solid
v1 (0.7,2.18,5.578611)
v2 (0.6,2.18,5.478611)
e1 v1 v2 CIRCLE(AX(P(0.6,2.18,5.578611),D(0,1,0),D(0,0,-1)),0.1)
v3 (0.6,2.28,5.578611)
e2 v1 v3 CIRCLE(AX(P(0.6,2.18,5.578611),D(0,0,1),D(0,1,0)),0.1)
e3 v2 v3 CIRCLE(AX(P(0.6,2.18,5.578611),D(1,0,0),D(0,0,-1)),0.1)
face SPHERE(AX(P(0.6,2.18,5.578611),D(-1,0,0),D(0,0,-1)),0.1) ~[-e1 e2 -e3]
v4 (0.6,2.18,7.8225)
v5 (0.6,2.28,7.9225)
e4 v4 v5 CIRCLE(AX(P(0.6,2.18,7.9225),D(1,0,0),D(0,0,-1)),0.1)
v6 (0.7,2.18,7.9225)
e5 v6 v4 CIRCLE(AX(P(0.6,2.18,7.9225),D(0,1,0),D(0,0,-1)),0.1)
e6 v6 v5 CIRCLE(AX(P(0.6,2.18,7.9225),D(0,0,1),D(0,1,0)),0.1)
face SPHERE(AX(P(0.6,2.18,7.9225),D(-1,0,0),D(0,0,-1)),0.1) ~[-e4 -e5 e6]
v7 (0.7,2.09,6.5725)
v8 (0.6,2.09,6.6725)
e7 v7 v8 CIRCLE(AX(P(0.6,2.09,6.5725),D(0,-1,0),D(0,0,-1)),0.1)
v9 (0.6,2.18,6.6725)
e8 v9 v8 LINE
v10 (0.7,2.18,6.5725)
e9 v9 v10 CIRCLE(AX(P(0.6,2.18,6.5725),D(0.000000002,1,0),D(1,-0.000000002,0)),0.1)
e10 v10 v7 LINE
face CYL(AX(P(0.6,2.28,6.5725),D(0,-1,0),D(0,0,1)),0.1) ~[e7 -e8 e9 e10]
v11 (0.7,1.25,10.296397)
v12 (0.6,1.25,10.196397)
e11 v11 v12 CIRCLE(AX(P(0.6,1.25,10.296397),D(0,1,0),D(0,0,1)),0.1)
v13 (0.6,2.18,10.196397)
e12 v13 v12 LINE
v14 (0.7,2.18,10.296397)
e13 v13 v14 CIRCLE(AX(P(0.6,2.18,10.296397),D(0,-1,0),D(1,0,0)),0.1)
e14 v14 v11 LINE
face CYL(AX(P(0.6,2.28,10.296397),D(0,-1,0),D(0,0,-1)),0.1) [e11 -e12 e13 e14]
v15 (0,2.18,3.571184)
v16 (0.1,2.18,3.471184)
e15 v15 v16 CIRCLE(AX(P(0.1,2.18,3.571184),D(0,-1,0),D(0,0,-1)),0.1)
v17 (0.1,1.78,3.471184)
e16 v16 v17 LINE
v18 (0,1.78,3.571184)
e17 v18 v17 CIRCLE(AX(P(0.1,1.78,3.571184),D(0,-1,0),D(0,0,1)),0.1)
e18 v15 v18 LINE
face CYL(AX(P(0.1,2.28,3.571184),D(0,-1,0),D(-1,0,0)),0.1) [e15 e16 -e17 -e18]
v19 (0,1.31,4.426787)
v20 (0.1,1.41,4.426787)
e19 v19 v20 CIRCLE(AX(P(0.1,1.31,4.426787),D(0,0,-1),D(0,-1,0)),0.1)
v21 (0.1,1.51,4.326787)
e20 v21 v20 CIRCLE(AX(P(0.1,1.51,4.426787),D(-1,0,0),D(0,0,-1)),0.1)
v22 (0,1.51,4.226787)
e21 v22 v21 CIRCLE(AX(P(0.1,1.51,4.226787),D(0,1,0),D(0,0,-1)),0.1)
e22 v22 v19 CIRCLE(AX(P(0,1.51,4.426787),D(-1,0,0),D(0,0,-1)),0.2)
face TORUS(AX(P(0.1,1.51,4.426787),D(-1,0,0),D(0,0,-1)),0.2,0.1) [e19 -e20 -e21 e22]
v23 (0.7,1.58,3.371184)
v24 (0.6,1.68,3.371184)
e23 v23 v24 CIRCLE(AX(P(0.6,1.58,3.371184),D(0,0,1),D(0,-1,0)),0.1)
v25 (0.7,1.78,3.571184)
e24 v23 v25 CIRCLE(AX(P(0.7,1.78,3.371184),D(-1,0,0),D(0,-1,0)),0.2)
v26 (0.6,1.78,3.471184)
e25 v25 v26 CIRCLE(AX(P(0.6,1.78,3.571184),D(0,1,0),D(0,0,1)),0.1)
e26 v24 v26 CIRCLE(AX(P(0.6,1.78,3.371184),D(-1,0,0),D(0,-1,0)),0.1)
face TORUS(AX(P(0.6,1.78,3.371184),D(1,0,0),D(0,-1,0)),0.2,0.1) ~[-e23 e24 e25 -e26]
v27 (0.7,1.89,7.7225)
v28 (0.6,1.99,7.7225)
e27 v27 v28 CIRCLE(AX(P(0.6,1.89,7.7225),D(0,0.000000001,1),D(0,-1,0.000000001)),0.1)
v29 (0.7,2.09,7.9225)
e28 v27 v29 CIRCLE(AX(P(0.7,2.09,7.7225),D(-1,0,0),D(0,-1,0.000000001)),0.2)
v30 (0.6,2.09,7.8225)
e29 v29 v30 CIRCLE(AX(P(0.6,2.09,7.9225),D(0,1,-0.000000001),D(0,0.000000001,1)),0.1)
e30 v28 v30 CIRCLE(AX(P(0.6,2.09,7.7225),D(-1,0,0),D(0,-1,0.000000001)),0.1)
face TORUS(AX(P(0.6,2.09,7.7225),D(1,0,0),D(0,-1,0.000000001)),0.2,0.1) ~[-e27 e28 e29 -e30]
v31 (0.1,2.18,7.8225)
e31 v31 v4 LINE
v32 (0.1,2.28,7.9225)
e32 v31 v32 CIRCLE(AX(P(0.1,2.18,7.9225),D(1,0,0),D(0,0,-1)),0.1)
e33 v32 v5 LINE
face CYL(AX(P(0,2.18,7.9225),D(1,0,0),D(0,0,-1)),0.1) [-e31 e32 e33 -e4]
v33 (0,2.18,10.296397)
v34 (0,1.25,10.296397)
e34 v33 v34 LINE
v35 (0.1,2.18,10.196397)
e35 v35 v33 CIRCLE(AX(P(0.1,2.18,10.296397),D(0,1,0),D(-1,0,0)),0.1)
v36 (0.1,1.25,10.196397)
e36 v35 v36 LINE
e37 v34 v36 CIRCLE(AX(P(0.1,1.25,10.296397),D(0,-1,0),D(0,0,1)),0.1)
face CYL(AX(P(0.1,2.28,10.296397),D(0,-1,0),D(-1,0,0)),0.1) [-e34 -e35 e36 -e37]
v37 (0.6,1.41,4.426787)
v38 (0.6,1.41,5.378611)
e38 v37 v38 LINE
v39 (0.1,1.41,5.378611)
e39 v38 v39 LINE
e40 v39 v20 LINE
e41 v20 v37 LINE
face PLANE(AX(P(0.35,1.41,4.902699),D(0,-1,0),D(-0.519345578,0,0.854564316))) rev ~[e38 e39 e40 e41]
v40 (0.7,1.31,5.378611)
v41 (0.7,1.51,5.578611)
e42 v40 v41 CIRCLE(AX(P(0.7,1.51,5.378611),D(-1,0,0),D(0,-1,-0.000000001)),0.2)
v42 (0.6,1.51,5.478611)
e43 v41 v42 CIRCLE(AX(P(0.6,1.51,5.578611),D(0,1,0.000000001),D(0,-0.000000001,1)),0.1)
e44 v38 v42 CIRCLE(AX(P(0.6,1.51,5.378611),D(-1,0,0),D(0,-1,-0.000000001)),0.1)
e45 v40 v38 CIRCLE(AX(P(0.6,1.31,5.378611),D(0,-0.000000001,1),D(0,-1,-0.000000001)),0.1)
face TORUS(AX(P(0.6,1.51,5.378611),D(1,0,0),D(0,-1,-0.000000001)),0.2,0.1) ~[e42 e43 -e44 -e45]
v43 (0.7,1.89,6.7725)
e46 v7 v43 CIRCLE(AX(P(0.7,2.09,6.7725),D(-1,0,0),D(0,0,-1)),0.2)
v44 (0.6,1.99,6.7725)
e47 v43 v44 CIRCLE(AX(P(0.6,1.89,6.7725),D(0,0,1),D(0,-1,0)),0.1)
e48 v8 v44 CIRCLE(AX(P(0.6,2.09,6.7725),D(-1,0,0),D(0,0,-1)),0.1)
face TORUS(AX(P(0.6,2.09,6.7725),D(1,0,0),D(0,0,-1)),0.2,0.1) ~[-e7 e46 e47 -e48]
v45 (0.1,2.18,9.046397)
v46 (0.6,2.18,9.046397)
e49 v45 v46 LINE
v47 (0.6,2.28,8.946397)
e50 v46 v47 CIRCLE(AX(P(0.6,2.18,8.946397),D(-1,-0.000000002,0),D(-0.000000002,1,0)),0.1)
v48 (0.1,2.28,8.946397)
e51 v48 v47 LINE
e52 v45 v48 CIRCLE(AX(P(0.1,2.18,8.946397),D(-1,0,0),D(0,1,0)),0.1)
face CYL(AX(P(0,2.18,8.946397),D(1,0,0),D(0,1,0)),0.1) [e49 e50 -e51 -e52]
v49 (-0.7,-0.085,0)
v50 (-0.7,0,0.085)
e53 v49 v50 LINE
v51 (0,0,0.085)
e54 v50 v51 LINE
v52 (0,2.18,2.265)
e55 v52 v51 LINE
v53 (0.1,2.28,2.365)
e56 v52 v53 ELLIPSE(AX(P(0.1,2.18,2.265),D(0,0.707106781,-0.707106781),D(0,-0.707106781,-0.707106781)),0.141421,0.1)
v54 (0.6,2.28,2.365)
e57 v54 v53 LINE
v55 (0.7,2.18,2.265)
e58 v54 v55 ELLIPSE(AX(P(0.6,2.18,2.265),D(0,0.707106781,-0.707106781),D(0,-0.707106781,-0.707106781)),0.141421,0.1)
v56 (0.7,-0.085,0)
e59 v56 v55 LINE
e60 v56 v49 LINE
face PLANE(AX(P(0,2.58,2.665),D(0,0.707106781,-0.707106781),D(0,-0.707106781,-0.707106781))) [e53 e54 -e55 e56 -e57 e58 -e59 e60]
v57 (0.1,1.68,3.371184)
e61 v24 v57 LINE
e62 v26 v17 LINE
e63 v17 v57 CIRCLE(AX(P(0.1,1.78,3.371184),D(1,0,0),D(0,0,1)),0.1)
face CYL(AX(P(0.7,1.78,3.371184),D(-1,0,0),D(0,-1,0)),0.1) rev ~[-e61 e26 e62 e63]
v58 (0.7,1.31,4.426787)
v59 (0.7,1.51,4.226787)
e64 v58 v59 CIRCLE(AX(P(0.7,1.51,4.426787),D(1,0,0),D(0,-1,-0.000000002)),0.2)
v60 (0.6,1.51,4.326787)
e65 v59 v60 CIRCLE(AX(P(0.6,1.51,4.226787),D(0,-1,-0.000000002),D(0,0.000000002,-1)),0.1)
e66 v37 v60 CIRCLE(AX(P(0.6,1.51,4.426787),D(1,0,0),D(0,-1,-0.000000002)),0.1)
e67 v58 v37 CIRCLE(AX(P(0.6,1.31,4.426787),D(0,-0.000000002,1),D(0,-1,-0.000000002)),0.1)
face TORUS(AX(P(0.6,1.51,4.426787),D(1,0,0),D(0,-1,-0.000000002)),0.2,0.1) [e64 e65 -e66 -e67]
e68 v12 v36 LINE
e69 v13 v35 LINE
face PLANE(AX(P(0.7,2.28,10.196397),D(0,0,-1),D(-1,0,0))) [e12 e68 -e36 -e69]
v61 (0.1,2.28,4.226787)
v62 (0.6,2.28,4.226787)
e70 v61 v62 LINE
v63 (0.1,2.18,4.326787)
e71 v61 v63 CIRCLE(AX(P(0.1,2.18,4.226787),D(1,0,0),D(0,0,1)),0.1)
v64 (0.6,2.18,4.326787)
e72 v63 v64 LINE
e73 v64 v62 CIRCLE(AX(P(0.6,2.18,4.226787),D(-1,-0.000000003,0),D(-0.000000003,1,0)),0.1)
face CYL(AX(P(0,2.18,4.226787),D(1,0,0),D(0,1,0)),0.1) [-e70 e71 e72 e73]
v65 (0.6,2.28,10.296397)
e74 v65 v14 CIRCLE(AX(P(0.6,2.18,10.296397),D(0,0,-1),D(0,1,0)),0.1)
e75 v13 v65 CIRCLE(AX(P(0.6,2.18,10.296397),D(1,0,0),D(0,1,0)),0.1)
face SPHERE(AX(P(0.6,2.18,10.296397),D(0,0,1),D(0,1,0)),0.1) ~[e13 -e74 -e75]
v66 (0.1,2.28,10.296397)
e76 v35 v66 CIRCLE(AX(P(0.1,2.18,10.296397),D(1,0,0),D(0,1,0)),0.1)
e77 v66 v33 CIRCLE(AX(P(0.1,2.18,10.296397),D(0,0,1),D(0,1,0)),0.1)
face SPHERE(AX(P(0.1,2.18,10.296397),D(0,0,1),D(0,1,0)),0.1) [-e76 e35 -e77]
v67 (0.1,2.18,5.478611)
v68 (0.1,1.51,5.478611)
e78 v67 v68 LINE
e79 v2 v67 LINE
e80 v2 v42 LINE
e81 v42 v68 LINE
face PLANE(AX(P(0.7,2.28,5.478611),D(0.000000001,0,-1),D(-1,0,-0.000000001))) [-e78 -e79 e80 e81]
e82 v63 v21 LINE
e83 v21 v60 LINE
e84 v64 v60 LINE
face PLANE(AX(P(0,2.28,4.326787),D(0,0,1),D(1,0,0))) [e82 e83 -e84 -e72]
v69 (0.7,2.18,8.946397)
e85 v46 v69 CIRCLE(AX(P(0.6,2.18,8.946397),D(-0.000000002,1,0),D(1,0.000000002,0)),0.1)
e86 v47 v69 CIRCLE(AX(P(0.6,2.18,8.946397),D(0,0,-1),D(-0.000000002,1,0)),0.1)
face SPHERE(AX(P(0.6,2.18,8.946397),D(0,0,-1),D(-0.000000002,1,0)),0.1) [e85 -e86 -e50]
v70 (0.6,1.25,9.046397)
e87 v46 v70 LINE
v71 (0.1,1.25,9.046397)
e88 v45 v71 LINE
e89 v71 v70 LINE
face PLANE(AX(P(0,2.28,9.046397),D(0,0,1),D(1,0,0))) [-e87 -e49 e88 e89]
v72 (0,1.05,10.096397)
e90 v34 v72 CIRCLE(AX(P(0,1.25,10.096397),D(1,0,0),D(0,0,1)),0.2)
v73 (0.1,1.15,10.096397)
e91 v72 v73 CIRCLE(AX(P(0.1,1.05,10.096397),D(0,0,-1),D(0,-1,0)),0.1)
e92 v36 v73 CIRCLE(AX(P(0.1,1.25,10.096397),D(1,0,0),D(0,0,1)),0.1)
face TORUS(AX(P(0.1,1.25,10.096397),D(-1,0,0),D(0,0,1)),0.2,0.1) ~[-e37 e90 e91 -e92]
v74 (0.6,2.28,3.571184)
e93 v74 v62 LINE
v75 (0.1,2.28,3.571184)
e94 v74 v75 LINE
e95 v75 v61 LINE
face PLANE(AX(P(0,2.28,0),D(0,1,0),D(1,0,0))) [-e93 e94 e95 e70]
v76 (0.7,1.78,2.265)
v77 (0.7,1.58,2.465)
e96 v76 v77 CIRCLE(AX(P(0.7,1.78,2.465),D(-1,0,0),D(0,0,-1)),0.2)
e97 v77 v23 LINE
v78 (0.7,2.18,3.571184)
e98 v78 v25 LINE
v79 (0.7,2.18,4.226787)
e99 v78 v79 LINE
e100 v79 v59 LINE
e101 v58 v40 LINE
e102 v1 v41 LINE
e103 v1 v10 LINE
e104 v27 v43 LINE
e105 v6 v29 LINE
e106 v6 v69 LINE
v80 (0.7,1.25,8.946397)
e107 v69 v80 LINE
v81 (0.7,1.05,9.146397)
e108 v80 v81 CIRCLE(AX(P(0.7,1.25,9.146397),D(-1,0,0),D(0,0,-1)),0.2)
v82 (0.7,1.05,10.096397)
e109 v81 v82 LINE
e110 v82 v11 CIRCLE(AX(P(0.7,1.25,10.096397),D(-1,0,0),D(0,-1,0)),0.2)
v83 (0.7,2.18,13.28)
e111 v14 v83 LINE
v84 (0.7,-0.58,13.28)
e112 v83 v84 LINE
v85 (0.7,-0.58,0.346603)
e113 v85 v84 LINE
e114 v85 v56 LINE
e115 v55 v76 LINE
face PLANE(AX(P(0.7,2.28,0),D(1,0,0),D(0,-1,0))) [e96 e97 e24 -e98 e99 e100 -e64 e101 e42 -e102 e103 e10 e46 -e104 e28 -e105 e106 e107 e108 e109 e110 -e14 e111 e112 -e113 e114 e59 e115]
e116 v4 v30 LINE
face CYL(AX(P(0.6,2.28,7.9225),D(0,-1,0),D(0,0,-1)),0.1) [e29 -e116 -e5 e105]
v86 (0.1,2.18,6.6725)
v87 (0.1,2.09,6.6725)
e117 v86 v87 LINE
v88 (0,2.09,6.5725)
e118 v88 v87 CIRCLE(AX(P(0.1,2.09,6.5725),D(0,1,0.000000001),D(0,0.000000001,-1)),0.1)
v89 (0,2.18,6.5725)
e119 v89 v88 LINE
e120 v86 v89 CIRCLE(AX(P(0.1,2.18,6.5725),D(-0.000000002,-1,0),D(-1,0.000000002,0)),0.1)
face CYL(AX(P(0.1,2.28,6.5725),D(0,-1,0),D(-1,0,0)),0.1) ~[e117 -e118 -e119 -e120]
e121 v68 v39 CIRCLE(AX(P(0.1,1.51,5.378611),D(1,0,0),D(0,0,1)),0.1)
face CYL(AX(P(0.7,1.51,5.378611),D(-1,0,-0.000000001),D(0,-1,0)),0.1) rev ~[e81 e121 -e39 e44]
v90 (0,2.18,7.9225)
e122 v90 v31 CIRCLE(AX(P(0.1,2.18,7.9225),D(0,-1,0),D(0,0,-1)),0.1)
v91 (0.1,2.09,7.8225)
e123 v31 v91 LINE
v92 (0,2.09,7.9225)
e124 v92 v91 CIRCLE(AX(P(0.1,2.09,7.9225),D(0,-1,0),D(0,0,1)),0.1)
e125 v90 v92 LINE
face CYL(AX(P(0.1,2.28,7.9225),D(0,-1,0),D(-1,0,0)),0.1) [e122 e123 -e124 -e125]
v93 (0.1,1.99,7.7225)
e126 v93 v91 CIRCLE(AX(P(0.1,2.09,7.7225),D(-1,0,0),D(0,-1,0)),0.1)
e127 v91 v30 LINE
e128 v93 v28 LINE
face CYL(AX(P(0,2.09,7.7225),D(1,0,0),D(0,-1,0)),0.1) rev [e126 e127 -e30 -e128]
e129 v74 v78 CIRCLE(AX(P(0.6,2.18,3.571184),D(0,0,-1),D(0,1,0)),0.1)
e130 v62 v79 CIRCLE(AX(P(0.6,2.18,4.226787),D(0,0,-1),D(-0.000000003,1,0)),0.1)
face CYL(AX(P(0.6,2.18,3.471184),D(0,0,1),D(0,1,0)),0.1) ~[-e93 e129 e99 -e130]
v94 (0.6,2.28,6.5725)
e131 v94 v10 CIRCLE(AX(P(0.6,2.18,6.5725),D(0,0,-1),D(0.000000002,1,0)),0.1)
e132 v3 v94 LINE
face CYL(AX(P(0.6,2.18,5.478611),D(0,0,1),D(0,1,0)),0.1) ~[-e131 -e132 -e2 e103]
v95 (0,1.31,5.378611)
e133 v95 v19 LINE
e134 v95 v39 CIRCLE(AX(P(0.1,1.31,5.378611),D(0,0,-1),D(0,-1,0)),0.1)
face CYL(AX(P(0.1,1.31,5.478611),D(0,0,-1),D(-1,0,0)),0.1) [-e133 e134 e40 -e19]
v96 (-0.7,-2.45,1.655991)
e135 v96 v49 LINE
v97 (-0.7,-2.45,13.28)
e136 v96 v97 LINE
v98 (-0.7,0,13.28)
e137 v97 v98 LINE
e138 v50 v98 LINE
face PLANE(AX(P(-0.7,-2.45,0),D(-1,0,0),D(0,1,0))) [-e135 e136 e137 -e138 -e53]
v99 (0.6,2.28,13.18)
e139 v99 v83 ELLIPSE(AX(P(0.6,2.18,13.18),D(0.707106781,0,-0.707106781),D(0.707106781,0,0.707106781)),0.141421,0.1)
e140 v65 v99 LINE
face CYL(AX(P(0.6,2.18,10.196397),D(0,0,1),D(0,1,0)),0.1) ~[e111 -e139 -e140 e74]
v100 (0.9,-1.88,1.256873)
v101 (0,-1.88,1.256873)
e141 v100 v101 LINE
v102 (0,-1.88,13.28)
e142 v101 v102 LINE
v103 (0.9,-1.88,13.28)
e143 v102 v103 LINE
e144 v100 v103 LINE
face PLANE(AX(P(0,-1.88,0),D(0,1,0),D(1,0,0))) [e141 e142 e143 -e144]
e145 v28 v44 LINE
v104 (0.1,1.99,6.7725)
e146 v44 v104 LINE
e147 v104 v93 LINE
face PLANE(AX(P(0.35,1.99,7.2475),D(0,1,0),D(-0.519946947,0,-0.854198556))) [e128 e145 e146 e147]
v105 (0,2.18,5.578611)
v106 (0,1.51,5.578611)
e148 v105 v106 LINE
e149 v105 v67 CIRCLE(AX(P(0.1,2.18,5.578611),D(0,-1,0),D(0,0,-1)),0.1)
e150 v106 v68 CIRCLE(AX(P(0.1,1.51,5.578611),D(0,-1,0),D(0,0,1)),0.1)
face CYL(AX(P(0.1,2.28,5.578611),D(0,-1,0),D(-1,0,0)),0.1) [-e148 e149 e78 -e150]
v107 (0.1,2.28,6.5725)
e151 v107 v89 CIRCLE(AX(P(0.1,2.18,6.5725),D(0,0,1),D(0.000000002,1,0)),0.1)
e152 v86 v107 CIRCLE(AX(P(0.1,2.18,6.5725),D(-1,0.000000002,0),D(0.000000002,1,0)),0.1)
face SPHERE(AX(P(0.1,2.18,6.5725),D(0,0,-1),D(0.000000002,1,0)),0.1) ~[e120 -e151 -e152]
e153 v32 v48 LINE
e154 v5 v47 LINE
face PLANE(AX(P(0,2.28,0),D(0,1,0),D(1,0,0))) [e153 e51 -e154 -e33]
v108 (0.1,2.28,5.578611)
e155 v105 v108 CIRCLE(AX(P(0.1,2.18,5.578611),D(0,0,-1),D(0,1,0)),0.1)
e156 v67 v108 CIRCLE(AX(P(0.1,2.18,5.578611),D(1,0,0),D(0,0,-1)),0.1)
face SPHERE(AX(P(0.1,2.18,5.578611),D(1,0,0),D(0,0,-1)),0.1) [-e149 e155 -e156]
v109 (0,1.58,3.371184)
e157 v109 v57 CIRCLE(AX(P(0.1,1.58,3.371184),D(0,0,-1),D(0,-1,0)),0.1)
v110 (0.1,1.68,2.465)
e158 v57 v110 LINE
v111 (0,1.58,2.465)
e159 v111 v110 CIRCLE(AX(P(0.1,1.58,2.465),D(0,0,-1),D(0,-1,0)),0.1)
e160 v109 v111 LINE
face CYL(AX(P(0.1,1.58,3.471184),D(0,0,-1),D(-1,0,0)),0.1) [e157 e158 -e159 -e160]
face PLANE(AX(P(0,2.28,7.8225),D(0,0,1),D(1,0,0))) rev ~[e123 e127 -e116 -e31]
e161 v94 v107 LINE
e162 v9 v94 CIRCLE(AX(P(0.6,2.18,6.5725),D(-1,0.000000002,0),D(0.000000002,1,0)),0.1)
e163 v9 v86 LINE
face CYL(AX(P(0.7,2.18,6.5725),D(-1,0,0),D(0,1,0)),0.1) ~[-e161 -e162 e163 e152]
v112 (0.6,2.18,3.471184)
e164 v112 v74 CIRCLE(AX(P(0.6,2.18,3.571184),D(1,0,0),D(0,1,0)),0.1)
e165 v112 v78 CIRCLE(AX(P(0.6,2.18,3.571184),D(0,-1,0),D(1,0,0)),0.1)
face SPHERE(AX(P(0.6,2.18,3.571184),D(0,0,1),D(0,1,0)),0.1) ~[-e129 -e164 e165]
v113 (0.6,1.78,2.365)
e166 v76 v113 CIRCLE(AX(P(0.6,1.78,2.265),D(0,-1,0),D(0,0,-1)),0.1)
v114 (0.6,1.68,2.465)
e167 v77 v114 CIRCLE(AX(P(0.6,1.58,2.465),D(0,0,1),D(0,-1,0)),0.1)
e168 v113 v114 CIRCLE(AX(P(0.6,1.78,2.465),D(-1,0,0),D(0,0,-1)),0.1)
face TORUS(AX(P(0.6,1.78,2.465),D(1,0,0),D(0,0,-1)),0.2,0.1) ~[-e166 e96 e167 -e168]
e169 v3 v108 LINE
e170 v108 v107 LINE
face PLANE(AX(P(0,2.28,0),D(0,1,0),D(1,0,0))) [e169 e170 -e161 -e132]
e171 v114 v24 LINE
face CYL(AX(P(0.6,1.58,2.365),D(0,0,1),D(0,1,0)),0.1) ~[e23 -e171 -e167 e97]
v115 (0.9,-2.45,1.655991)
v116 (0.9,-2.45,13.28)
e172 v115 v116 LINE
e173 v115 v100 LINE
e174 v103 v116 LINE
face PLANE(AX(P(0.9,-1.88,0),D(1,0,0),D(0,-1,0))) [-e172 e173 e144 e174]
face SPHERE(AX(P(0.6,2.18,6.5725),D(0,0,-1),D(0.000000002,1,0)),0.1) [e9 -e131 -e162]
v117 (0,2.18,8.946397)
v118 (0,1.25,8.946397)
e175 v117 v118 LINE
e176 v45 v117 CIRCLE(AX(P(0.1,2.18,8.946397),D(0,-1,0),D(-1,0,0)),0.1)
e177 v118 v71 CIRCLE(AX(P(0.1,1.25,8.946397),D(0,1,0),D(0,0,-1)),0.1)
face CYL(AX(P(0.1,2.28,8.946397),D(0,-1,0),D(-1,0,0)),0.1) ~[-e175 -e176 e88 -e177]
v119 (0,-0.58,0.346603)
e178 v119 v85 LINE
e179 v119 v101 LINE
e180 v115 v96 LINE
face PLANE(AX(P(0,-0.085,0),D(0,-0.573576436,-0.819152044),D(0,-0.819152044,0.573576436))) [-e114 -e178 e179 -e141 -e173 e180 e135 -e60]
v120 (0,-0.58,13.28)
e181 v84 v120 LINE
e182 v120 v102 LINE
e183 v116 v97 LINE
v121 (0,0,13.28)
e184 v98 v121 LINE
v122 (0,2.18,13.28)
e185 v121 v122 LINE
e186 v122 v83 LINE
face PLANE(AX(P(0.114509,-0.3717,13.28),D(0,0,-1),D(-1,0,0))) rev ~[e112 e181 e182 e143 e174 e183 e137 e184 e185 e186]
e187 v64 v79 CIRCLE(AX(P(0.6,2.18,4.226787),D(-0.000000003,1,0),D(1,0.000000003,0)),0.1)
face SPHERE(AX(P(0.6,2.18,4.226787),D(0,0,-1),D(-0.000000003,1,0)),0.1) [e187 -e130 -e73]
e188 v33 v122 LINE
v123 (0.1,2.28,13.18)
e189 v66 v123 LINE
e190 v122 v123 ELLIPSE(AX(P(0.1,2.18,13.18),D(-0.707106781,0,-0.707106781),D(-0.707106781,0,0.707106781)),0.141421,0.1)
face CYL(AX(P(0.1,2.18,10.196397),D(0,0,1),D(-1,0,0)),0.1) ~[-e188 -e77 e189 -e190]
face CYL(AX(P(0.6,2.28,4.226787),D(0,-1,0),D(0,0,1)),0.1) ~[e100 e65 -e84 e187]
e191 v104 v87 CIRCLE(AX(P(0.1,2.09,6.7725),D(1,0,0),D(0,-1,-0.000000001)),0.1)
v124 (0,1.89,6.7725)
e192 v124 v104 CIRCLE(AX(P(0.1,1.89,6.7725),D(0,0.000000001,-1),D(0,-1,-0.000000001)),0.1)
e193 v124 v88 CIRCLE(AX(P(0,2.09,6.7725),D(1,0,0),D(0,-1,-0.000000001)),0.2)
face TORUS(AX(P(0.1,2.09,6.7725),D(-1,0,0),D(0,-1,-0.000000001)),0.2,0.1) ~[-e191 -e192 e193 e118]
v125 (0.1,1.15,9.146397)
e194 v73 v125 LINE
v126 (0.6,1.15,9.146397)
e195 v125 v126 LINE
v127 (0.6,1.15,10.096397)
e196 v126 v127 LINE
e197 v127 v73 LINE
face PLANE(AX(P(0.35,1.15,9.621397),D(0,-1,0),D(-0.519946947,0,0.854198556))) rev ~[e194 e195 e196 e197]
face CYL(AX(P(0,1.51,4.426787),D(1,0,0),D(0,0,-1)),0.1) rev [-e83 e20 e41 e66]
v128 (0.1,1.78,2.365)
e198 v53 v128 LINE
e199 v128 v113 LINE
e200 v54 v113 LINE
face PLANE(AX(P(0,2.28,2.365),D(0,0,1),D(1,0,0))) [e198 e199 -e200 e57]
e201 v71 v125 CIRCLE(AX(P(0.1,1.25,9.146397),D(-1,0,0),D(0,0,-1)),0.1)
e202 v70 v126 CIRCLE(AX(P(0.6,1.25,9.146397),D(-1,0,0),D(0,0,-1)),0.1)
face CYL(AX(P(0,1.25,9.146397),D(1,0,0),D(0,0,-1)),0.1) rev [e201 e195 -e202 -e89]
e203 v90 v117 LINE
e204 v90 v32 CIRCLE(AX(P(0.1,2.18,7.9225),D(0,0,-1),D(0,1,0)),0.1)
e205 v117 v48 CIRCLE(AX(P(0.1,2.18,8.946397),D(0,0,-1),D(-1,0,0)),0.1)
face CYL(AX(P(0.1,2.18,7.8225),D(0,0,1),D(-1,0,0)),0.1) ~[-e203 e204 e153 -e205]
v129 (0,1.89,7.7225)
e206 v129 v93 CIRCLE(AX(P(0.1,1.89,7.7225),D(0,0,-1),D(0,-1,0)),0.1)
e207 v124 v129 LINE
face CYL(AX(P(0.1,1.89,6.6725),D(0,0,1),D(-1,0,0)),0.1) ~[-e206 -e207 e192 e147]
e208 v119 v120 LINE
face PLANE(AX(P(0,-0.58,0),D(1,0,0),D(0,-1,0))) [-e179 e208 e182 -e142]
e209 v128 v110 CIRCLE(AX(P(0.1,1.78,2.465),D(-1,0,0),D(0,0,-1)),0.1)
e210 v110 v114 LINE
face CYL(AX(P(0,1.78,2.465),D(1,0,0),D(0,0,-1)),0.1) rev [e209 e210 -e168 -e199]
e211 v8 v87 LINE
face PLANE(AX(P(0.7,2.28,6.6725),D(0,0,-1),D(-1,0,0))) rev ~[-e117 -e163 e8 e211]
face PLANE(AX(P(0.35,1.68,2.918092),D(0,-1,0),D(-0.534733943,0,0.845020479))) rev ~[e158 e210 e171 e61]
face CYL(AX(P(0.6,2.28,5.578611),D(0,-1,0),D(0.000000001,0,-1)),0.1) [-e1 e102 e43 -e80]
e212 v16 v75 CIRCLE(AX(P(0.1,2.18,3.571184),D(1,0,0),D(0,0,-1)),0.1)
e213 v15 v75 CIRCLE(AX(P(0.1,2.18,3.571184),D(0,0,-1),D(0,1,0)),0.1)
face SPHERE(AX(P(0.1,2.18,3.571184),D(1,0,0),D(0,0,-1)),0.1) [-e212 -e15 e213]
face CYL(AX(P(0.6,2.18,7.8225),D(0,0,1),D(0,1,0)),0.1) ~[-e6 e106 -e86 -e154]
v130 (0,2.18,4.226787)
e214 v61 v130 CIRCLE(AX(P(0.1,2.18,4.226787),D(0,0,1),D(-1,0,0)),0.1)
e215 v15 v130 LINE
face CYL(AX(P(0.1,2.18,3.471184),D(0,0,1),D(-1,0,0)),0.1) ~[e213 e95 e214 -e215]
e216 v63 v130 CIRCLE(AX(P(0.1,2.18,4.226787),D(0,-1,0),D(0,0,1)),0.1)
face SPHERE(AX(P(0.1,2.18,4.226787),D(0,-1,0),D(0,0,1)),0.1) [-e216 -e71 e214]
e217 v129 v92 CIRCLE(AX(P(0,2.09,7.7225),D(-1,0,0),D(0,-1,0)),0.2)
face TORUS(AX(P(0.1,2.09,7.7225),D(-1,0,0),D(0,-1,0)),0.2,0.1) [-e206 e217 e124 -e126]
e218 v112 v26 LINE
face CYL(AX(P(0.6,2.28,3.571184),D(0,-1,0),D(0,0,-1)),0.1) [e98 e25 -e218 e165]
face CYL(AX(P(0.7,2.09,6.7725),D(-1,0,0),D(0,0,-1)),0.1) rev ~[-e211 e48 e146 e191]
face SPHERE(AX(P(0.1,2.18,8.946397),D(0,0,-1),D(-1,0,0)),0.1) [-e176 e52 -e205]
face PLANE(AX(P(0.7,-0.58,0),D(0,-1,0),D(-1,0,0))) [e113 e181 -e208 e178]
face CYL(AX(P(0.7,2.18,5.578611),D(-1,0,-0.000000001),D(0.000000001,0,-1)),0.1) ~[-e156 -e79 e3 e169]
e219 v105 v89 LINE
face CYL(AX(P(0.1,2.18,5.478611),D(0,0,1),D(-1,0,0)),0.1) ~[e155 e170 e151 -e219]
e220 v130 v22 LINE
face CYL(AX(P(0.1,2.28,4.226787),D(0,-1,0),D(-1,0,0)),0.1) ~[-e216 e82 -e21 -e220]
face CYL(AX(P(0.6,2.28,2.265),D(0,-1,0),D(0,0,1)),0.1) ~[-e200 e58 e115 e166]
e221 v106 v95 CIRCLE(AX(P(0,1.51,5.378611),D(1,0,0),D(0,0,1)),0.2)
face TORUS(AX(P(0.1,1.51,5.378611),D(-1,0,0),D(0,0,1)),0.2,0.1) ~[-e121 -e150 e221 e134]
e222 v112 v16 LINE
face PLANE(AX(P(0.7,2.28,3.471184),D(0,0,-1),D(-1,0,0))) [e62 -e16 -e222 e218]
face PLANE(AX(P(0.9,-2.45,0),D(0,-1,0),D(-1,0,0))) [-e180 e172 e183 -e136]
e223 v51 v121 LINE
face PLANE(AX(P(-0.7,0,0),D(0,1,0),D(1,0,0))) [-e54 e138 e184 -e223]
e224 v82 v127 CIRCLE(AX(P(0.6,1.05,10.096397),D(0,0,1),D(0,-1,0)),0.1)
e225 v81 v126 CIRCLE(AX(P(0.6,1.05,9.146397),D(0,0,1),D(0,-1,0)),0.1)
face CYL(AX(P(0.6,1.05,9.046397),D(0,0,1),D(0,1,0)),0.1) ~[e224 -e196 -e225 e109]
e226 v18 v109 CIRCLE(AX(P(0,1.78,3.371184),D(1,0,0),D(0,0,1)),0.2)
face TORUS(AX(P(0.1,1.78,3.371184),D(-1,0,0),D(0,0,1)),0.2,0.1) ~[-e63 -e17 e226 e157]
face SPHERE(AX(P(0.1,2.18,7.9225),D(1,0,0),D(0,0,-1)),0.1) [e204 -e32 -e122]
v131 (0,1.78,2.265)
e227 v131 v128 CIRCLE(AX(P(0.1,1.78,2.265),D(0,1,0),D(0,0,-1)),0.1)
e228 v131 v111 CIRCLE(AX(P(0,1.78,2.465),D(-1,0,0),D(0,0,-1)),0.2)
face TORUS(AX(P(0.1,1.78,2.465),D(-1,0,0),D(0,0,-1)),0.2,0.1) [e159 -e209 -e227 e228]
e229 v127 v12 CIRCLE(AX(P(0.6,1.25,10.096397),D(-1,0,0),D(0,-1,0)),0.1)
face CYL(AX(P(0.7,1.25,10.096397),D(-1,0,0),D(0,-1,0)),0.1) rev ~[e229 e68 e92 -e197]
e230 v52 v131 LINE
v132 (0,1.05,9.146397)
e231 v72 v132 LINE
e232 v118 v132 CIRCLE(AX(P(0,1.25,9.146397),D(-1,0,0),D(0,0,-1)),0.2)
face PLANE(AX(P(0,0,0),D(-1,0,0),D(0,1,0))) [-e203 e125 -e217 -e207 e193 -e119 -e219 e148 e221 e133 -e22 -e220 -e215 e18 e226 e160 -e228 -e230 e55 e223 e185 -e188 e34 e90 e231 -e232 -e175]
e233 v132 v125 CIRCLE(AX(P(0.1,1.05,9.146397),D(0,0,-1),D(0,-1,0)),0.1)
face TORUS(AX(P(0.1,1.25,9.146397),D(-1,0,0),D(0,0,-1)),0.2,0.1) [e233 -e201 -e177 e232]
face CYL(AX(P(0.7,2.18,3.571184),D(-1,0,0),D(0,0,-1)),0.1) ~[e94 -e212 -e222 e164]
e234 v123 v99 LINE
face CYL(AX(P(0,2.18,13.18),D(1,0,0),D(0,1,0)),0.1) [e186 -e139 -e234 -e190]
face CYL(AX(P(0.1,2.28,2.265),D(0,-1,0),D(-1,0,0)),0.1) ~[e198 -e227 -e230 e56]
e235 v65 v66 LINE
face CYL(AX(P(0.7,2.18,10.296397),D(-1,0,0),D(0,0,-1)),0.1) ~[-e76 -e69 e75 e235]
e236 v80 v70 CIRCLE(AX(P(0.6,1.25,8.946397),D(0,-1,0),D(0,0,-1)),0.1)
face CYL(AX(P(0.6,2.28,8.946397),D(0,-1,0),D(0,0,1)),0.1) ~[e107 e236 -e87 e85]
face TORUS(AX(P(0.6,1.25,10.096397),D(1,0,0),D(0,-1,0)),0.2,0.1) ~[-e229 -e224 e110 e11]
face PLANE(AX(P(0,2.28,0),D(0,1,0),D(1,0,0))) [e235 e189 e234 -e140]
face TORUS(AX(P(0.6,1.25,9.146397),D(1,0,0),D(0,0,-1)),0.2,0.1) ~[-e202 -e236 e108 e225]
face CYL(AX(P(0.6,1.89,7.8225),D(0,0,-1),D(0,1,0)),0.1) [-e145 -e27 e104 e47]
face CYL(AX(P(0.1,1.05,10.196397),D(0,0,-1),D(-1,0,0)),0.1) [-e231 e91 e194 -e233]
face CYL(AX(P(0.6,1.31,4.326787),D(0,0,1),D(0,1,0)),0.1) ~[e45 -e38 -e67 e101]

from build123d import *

# Parameters (mm, degrees)
BOSS_EXTRUDE1_DEPTH     = 13.28
CUT_EXTRUDE1_DEPTH      = 14.53406443
CUT_EXTRUDE1_DEPTH_BACK = 14.53406443
CUT_EXTRUDE5_DEPTH      = 0.29
CUT_EXTRUDE6_DEPTH      = 1.13
CUT_EXTRUDE7_DEPTH      = 0.87
CUT_EXTRUDE8_DEPTH      = 0.6
FILLET1_R               = 0.1


with BuildPart() as part:
    # Sketch1 → Boss-Extrude1 (new body)
    with BuildSketch(Plane.XY):
        Polygon((0, 0), (0, 2.28), (0.7, 2.28), (0.7, -0.58), (0, -0.58), (0, -1.88), (0.9, -1.88), (0.9, -2.45), (-0.7, -2.45), (-0.7, 0), align=None)
    extrude(amount=BOSS_EXTRUDE1_DEPTH)

    # Sketch2 → Cut-Extrude1 (cut, two sides)
    with BuildSketch(Plane(origin=(0, 0, 0), x_dir=(0, 0, -1), z_dir=(1, 0, 0))) as cut_extrude1_sk:
        Polygon((0.8, -2.75), (0.8, -0.085), (0.8, 2.58), (-2.665, 2.58), (0, -0.085), (-1.866053089, -2.75), align=None)
    extrude(amount=CUT_EXTRUDE1_DEPTH, mode=Mode.SUBTRACT)
    extrude(cut_extrude1_sk.sketch, amount=-CUT_EXTRUDE1_DEPTH_BACK, mode=Mode.SUBTRACT)

    # 3DSketch1 → Cut-Extrude5 (cut)
    with BuildSketch(Plane(origin=(0.7, 2.28, 7.8225), x_dir=(-0.5199469468957453, 0, -0.8541985556144386), z_dir=(0, 1, 0))):
        Polygon((0, 0), (0.982328339, -0.597938989), (1.346291202, 0), (0.363962863, 0.597938989), align=None)
    extrude(amount=-CUT_EXTRUDE5_DEPTH, mode=Mode.SUBTRACT)

    # 3DSketch1<3> → Cut-Extrude6 (cut)
    with BuildSketch(Plane(origin=(0, 2.28, 10.196397445), x_dir=(0.5199469468957453, 0, -0.8541985556144386), z_dir=(0, 1, 0))):
        Polygon((0, 0), (0.982328339, 0.597938989), (1.346291202, 0), (0.363962863, -0.597938989), align=None)
    extrude(amount=-CUT_EXTRUDE6_DEPTH, mode=Mode.SUBTRACT)

    # 3DSketch1<4> → Cut-Extrude7 (cut)
    with BuildSketch(Plane(origin=(0, 2.28, 5.478611146), x_dir=(0.519345577670118, 0, -0.8545643164528294), z_dir=(0, 1, 0))):
        Polygon((0, 0), (0.984308217, 0.598195022), (1.347850122, 0), (0.363541904, -0.598195022), align=None)
    extrude(amount=-CUT_EXTRUDE7_DEPTH, mode=Mode.SUBTRACT)

    # 3DSketch1<5> → Cut-Extrude8 (cut)
    with BuildSketch(Plane(origin=(0, 2.28, 3.471184381), x_dir=(0.5347339426738265, 0, -0.8450204793686985), z_dir=(0, 1, 0))):
        Polygon((0, 0), (0.934748456, 0.591514336), (1.309062216, 0), (0.37431376, -0.591514336), align=None)
    extrude(amount=-CUT_EXTRUDE8_DEPTH, mode=Mode.SUBTRACT)

    # Fillet1
    fillet1_edges = [part.edges().sort_by_distance(p)[0] for p in [
        (0.7, 2.28, 3.898985455),
        (0, 1.41, 4.902698837),
        (0.35, 1.41, 4.326786528),
        (0.35, 2.28, 5.478611146),
        (0.35, 1.41, 5.478611146),
        (0, 1.845, 5.478611146),
        (0.7, 1.41, 4.902698837),
        (0.7, 1.845, 5.478611146),
        (0, 1.845, 4.326786528),
        (0.35, 2.28, 4.326786528),
        (0.7, 1.845, 4.326786528),
        (0, 1.68, 2.918092191),
        (0.35, 1.68, 2.365),
        (0.35, 2.28, 3.471184381),
        (0, 1.98, 2.365),
        (0.7, 1.98, 2.365),
        (0.35, 1.68, 3.471184381),
        (0, 1.98, 3.471184381),
        (0.7, 1.68, 2.918092191),
        (0.7, 1.98, 3.471184381),
        (0, 2.28, 11.738198723),
        (0.7, 2.28, 11.738198723),
        (0.35, 2.28, 13.28),
        (0, 2.28, 6.075555573),
        (0.7, 2.28, 6.075555573),
        (0.35, 1.99, 7.8225),
        (0, 1.99, 7.2475),
        (0.35, 2.28, 6.6725),
        (0.35, 2.28, 7.8225),
        (0, 2.135, 7.8225),
        (0, 2.135, 6.6725),
        (0.7, 1.99, 7.2475),
        (0.7, 2.135, 7.8225),
        (0.35, 1.99, 6.6725),
        (0.7, 2.135, 6.6725),
        (0, 2.28, 8.434448723),
        (0.7, 2.28, 8.434448723),
        (0, 1.15, 9.621397445),
        (0.35, 1.15, 9.046397445),
        (0.35, 2.28, 10.196397445),
        (0, 1.715, 9.046397445),
        (0.35, 2.28, 9.046397445),
        (0.7, 1.715, 9.046397445),
        (0.35, 1.15, 10.196397445),
        (0, 1.715, 10.196397445),
        (0.7, 1.15, 9.621397445),
        (0.7, 1.715, 10.196397445),
        (0, 2.28, 3.898985455),
    ]]
    fillet(fillet1_edges, radius=FILLET1_R)


solid = part.part
